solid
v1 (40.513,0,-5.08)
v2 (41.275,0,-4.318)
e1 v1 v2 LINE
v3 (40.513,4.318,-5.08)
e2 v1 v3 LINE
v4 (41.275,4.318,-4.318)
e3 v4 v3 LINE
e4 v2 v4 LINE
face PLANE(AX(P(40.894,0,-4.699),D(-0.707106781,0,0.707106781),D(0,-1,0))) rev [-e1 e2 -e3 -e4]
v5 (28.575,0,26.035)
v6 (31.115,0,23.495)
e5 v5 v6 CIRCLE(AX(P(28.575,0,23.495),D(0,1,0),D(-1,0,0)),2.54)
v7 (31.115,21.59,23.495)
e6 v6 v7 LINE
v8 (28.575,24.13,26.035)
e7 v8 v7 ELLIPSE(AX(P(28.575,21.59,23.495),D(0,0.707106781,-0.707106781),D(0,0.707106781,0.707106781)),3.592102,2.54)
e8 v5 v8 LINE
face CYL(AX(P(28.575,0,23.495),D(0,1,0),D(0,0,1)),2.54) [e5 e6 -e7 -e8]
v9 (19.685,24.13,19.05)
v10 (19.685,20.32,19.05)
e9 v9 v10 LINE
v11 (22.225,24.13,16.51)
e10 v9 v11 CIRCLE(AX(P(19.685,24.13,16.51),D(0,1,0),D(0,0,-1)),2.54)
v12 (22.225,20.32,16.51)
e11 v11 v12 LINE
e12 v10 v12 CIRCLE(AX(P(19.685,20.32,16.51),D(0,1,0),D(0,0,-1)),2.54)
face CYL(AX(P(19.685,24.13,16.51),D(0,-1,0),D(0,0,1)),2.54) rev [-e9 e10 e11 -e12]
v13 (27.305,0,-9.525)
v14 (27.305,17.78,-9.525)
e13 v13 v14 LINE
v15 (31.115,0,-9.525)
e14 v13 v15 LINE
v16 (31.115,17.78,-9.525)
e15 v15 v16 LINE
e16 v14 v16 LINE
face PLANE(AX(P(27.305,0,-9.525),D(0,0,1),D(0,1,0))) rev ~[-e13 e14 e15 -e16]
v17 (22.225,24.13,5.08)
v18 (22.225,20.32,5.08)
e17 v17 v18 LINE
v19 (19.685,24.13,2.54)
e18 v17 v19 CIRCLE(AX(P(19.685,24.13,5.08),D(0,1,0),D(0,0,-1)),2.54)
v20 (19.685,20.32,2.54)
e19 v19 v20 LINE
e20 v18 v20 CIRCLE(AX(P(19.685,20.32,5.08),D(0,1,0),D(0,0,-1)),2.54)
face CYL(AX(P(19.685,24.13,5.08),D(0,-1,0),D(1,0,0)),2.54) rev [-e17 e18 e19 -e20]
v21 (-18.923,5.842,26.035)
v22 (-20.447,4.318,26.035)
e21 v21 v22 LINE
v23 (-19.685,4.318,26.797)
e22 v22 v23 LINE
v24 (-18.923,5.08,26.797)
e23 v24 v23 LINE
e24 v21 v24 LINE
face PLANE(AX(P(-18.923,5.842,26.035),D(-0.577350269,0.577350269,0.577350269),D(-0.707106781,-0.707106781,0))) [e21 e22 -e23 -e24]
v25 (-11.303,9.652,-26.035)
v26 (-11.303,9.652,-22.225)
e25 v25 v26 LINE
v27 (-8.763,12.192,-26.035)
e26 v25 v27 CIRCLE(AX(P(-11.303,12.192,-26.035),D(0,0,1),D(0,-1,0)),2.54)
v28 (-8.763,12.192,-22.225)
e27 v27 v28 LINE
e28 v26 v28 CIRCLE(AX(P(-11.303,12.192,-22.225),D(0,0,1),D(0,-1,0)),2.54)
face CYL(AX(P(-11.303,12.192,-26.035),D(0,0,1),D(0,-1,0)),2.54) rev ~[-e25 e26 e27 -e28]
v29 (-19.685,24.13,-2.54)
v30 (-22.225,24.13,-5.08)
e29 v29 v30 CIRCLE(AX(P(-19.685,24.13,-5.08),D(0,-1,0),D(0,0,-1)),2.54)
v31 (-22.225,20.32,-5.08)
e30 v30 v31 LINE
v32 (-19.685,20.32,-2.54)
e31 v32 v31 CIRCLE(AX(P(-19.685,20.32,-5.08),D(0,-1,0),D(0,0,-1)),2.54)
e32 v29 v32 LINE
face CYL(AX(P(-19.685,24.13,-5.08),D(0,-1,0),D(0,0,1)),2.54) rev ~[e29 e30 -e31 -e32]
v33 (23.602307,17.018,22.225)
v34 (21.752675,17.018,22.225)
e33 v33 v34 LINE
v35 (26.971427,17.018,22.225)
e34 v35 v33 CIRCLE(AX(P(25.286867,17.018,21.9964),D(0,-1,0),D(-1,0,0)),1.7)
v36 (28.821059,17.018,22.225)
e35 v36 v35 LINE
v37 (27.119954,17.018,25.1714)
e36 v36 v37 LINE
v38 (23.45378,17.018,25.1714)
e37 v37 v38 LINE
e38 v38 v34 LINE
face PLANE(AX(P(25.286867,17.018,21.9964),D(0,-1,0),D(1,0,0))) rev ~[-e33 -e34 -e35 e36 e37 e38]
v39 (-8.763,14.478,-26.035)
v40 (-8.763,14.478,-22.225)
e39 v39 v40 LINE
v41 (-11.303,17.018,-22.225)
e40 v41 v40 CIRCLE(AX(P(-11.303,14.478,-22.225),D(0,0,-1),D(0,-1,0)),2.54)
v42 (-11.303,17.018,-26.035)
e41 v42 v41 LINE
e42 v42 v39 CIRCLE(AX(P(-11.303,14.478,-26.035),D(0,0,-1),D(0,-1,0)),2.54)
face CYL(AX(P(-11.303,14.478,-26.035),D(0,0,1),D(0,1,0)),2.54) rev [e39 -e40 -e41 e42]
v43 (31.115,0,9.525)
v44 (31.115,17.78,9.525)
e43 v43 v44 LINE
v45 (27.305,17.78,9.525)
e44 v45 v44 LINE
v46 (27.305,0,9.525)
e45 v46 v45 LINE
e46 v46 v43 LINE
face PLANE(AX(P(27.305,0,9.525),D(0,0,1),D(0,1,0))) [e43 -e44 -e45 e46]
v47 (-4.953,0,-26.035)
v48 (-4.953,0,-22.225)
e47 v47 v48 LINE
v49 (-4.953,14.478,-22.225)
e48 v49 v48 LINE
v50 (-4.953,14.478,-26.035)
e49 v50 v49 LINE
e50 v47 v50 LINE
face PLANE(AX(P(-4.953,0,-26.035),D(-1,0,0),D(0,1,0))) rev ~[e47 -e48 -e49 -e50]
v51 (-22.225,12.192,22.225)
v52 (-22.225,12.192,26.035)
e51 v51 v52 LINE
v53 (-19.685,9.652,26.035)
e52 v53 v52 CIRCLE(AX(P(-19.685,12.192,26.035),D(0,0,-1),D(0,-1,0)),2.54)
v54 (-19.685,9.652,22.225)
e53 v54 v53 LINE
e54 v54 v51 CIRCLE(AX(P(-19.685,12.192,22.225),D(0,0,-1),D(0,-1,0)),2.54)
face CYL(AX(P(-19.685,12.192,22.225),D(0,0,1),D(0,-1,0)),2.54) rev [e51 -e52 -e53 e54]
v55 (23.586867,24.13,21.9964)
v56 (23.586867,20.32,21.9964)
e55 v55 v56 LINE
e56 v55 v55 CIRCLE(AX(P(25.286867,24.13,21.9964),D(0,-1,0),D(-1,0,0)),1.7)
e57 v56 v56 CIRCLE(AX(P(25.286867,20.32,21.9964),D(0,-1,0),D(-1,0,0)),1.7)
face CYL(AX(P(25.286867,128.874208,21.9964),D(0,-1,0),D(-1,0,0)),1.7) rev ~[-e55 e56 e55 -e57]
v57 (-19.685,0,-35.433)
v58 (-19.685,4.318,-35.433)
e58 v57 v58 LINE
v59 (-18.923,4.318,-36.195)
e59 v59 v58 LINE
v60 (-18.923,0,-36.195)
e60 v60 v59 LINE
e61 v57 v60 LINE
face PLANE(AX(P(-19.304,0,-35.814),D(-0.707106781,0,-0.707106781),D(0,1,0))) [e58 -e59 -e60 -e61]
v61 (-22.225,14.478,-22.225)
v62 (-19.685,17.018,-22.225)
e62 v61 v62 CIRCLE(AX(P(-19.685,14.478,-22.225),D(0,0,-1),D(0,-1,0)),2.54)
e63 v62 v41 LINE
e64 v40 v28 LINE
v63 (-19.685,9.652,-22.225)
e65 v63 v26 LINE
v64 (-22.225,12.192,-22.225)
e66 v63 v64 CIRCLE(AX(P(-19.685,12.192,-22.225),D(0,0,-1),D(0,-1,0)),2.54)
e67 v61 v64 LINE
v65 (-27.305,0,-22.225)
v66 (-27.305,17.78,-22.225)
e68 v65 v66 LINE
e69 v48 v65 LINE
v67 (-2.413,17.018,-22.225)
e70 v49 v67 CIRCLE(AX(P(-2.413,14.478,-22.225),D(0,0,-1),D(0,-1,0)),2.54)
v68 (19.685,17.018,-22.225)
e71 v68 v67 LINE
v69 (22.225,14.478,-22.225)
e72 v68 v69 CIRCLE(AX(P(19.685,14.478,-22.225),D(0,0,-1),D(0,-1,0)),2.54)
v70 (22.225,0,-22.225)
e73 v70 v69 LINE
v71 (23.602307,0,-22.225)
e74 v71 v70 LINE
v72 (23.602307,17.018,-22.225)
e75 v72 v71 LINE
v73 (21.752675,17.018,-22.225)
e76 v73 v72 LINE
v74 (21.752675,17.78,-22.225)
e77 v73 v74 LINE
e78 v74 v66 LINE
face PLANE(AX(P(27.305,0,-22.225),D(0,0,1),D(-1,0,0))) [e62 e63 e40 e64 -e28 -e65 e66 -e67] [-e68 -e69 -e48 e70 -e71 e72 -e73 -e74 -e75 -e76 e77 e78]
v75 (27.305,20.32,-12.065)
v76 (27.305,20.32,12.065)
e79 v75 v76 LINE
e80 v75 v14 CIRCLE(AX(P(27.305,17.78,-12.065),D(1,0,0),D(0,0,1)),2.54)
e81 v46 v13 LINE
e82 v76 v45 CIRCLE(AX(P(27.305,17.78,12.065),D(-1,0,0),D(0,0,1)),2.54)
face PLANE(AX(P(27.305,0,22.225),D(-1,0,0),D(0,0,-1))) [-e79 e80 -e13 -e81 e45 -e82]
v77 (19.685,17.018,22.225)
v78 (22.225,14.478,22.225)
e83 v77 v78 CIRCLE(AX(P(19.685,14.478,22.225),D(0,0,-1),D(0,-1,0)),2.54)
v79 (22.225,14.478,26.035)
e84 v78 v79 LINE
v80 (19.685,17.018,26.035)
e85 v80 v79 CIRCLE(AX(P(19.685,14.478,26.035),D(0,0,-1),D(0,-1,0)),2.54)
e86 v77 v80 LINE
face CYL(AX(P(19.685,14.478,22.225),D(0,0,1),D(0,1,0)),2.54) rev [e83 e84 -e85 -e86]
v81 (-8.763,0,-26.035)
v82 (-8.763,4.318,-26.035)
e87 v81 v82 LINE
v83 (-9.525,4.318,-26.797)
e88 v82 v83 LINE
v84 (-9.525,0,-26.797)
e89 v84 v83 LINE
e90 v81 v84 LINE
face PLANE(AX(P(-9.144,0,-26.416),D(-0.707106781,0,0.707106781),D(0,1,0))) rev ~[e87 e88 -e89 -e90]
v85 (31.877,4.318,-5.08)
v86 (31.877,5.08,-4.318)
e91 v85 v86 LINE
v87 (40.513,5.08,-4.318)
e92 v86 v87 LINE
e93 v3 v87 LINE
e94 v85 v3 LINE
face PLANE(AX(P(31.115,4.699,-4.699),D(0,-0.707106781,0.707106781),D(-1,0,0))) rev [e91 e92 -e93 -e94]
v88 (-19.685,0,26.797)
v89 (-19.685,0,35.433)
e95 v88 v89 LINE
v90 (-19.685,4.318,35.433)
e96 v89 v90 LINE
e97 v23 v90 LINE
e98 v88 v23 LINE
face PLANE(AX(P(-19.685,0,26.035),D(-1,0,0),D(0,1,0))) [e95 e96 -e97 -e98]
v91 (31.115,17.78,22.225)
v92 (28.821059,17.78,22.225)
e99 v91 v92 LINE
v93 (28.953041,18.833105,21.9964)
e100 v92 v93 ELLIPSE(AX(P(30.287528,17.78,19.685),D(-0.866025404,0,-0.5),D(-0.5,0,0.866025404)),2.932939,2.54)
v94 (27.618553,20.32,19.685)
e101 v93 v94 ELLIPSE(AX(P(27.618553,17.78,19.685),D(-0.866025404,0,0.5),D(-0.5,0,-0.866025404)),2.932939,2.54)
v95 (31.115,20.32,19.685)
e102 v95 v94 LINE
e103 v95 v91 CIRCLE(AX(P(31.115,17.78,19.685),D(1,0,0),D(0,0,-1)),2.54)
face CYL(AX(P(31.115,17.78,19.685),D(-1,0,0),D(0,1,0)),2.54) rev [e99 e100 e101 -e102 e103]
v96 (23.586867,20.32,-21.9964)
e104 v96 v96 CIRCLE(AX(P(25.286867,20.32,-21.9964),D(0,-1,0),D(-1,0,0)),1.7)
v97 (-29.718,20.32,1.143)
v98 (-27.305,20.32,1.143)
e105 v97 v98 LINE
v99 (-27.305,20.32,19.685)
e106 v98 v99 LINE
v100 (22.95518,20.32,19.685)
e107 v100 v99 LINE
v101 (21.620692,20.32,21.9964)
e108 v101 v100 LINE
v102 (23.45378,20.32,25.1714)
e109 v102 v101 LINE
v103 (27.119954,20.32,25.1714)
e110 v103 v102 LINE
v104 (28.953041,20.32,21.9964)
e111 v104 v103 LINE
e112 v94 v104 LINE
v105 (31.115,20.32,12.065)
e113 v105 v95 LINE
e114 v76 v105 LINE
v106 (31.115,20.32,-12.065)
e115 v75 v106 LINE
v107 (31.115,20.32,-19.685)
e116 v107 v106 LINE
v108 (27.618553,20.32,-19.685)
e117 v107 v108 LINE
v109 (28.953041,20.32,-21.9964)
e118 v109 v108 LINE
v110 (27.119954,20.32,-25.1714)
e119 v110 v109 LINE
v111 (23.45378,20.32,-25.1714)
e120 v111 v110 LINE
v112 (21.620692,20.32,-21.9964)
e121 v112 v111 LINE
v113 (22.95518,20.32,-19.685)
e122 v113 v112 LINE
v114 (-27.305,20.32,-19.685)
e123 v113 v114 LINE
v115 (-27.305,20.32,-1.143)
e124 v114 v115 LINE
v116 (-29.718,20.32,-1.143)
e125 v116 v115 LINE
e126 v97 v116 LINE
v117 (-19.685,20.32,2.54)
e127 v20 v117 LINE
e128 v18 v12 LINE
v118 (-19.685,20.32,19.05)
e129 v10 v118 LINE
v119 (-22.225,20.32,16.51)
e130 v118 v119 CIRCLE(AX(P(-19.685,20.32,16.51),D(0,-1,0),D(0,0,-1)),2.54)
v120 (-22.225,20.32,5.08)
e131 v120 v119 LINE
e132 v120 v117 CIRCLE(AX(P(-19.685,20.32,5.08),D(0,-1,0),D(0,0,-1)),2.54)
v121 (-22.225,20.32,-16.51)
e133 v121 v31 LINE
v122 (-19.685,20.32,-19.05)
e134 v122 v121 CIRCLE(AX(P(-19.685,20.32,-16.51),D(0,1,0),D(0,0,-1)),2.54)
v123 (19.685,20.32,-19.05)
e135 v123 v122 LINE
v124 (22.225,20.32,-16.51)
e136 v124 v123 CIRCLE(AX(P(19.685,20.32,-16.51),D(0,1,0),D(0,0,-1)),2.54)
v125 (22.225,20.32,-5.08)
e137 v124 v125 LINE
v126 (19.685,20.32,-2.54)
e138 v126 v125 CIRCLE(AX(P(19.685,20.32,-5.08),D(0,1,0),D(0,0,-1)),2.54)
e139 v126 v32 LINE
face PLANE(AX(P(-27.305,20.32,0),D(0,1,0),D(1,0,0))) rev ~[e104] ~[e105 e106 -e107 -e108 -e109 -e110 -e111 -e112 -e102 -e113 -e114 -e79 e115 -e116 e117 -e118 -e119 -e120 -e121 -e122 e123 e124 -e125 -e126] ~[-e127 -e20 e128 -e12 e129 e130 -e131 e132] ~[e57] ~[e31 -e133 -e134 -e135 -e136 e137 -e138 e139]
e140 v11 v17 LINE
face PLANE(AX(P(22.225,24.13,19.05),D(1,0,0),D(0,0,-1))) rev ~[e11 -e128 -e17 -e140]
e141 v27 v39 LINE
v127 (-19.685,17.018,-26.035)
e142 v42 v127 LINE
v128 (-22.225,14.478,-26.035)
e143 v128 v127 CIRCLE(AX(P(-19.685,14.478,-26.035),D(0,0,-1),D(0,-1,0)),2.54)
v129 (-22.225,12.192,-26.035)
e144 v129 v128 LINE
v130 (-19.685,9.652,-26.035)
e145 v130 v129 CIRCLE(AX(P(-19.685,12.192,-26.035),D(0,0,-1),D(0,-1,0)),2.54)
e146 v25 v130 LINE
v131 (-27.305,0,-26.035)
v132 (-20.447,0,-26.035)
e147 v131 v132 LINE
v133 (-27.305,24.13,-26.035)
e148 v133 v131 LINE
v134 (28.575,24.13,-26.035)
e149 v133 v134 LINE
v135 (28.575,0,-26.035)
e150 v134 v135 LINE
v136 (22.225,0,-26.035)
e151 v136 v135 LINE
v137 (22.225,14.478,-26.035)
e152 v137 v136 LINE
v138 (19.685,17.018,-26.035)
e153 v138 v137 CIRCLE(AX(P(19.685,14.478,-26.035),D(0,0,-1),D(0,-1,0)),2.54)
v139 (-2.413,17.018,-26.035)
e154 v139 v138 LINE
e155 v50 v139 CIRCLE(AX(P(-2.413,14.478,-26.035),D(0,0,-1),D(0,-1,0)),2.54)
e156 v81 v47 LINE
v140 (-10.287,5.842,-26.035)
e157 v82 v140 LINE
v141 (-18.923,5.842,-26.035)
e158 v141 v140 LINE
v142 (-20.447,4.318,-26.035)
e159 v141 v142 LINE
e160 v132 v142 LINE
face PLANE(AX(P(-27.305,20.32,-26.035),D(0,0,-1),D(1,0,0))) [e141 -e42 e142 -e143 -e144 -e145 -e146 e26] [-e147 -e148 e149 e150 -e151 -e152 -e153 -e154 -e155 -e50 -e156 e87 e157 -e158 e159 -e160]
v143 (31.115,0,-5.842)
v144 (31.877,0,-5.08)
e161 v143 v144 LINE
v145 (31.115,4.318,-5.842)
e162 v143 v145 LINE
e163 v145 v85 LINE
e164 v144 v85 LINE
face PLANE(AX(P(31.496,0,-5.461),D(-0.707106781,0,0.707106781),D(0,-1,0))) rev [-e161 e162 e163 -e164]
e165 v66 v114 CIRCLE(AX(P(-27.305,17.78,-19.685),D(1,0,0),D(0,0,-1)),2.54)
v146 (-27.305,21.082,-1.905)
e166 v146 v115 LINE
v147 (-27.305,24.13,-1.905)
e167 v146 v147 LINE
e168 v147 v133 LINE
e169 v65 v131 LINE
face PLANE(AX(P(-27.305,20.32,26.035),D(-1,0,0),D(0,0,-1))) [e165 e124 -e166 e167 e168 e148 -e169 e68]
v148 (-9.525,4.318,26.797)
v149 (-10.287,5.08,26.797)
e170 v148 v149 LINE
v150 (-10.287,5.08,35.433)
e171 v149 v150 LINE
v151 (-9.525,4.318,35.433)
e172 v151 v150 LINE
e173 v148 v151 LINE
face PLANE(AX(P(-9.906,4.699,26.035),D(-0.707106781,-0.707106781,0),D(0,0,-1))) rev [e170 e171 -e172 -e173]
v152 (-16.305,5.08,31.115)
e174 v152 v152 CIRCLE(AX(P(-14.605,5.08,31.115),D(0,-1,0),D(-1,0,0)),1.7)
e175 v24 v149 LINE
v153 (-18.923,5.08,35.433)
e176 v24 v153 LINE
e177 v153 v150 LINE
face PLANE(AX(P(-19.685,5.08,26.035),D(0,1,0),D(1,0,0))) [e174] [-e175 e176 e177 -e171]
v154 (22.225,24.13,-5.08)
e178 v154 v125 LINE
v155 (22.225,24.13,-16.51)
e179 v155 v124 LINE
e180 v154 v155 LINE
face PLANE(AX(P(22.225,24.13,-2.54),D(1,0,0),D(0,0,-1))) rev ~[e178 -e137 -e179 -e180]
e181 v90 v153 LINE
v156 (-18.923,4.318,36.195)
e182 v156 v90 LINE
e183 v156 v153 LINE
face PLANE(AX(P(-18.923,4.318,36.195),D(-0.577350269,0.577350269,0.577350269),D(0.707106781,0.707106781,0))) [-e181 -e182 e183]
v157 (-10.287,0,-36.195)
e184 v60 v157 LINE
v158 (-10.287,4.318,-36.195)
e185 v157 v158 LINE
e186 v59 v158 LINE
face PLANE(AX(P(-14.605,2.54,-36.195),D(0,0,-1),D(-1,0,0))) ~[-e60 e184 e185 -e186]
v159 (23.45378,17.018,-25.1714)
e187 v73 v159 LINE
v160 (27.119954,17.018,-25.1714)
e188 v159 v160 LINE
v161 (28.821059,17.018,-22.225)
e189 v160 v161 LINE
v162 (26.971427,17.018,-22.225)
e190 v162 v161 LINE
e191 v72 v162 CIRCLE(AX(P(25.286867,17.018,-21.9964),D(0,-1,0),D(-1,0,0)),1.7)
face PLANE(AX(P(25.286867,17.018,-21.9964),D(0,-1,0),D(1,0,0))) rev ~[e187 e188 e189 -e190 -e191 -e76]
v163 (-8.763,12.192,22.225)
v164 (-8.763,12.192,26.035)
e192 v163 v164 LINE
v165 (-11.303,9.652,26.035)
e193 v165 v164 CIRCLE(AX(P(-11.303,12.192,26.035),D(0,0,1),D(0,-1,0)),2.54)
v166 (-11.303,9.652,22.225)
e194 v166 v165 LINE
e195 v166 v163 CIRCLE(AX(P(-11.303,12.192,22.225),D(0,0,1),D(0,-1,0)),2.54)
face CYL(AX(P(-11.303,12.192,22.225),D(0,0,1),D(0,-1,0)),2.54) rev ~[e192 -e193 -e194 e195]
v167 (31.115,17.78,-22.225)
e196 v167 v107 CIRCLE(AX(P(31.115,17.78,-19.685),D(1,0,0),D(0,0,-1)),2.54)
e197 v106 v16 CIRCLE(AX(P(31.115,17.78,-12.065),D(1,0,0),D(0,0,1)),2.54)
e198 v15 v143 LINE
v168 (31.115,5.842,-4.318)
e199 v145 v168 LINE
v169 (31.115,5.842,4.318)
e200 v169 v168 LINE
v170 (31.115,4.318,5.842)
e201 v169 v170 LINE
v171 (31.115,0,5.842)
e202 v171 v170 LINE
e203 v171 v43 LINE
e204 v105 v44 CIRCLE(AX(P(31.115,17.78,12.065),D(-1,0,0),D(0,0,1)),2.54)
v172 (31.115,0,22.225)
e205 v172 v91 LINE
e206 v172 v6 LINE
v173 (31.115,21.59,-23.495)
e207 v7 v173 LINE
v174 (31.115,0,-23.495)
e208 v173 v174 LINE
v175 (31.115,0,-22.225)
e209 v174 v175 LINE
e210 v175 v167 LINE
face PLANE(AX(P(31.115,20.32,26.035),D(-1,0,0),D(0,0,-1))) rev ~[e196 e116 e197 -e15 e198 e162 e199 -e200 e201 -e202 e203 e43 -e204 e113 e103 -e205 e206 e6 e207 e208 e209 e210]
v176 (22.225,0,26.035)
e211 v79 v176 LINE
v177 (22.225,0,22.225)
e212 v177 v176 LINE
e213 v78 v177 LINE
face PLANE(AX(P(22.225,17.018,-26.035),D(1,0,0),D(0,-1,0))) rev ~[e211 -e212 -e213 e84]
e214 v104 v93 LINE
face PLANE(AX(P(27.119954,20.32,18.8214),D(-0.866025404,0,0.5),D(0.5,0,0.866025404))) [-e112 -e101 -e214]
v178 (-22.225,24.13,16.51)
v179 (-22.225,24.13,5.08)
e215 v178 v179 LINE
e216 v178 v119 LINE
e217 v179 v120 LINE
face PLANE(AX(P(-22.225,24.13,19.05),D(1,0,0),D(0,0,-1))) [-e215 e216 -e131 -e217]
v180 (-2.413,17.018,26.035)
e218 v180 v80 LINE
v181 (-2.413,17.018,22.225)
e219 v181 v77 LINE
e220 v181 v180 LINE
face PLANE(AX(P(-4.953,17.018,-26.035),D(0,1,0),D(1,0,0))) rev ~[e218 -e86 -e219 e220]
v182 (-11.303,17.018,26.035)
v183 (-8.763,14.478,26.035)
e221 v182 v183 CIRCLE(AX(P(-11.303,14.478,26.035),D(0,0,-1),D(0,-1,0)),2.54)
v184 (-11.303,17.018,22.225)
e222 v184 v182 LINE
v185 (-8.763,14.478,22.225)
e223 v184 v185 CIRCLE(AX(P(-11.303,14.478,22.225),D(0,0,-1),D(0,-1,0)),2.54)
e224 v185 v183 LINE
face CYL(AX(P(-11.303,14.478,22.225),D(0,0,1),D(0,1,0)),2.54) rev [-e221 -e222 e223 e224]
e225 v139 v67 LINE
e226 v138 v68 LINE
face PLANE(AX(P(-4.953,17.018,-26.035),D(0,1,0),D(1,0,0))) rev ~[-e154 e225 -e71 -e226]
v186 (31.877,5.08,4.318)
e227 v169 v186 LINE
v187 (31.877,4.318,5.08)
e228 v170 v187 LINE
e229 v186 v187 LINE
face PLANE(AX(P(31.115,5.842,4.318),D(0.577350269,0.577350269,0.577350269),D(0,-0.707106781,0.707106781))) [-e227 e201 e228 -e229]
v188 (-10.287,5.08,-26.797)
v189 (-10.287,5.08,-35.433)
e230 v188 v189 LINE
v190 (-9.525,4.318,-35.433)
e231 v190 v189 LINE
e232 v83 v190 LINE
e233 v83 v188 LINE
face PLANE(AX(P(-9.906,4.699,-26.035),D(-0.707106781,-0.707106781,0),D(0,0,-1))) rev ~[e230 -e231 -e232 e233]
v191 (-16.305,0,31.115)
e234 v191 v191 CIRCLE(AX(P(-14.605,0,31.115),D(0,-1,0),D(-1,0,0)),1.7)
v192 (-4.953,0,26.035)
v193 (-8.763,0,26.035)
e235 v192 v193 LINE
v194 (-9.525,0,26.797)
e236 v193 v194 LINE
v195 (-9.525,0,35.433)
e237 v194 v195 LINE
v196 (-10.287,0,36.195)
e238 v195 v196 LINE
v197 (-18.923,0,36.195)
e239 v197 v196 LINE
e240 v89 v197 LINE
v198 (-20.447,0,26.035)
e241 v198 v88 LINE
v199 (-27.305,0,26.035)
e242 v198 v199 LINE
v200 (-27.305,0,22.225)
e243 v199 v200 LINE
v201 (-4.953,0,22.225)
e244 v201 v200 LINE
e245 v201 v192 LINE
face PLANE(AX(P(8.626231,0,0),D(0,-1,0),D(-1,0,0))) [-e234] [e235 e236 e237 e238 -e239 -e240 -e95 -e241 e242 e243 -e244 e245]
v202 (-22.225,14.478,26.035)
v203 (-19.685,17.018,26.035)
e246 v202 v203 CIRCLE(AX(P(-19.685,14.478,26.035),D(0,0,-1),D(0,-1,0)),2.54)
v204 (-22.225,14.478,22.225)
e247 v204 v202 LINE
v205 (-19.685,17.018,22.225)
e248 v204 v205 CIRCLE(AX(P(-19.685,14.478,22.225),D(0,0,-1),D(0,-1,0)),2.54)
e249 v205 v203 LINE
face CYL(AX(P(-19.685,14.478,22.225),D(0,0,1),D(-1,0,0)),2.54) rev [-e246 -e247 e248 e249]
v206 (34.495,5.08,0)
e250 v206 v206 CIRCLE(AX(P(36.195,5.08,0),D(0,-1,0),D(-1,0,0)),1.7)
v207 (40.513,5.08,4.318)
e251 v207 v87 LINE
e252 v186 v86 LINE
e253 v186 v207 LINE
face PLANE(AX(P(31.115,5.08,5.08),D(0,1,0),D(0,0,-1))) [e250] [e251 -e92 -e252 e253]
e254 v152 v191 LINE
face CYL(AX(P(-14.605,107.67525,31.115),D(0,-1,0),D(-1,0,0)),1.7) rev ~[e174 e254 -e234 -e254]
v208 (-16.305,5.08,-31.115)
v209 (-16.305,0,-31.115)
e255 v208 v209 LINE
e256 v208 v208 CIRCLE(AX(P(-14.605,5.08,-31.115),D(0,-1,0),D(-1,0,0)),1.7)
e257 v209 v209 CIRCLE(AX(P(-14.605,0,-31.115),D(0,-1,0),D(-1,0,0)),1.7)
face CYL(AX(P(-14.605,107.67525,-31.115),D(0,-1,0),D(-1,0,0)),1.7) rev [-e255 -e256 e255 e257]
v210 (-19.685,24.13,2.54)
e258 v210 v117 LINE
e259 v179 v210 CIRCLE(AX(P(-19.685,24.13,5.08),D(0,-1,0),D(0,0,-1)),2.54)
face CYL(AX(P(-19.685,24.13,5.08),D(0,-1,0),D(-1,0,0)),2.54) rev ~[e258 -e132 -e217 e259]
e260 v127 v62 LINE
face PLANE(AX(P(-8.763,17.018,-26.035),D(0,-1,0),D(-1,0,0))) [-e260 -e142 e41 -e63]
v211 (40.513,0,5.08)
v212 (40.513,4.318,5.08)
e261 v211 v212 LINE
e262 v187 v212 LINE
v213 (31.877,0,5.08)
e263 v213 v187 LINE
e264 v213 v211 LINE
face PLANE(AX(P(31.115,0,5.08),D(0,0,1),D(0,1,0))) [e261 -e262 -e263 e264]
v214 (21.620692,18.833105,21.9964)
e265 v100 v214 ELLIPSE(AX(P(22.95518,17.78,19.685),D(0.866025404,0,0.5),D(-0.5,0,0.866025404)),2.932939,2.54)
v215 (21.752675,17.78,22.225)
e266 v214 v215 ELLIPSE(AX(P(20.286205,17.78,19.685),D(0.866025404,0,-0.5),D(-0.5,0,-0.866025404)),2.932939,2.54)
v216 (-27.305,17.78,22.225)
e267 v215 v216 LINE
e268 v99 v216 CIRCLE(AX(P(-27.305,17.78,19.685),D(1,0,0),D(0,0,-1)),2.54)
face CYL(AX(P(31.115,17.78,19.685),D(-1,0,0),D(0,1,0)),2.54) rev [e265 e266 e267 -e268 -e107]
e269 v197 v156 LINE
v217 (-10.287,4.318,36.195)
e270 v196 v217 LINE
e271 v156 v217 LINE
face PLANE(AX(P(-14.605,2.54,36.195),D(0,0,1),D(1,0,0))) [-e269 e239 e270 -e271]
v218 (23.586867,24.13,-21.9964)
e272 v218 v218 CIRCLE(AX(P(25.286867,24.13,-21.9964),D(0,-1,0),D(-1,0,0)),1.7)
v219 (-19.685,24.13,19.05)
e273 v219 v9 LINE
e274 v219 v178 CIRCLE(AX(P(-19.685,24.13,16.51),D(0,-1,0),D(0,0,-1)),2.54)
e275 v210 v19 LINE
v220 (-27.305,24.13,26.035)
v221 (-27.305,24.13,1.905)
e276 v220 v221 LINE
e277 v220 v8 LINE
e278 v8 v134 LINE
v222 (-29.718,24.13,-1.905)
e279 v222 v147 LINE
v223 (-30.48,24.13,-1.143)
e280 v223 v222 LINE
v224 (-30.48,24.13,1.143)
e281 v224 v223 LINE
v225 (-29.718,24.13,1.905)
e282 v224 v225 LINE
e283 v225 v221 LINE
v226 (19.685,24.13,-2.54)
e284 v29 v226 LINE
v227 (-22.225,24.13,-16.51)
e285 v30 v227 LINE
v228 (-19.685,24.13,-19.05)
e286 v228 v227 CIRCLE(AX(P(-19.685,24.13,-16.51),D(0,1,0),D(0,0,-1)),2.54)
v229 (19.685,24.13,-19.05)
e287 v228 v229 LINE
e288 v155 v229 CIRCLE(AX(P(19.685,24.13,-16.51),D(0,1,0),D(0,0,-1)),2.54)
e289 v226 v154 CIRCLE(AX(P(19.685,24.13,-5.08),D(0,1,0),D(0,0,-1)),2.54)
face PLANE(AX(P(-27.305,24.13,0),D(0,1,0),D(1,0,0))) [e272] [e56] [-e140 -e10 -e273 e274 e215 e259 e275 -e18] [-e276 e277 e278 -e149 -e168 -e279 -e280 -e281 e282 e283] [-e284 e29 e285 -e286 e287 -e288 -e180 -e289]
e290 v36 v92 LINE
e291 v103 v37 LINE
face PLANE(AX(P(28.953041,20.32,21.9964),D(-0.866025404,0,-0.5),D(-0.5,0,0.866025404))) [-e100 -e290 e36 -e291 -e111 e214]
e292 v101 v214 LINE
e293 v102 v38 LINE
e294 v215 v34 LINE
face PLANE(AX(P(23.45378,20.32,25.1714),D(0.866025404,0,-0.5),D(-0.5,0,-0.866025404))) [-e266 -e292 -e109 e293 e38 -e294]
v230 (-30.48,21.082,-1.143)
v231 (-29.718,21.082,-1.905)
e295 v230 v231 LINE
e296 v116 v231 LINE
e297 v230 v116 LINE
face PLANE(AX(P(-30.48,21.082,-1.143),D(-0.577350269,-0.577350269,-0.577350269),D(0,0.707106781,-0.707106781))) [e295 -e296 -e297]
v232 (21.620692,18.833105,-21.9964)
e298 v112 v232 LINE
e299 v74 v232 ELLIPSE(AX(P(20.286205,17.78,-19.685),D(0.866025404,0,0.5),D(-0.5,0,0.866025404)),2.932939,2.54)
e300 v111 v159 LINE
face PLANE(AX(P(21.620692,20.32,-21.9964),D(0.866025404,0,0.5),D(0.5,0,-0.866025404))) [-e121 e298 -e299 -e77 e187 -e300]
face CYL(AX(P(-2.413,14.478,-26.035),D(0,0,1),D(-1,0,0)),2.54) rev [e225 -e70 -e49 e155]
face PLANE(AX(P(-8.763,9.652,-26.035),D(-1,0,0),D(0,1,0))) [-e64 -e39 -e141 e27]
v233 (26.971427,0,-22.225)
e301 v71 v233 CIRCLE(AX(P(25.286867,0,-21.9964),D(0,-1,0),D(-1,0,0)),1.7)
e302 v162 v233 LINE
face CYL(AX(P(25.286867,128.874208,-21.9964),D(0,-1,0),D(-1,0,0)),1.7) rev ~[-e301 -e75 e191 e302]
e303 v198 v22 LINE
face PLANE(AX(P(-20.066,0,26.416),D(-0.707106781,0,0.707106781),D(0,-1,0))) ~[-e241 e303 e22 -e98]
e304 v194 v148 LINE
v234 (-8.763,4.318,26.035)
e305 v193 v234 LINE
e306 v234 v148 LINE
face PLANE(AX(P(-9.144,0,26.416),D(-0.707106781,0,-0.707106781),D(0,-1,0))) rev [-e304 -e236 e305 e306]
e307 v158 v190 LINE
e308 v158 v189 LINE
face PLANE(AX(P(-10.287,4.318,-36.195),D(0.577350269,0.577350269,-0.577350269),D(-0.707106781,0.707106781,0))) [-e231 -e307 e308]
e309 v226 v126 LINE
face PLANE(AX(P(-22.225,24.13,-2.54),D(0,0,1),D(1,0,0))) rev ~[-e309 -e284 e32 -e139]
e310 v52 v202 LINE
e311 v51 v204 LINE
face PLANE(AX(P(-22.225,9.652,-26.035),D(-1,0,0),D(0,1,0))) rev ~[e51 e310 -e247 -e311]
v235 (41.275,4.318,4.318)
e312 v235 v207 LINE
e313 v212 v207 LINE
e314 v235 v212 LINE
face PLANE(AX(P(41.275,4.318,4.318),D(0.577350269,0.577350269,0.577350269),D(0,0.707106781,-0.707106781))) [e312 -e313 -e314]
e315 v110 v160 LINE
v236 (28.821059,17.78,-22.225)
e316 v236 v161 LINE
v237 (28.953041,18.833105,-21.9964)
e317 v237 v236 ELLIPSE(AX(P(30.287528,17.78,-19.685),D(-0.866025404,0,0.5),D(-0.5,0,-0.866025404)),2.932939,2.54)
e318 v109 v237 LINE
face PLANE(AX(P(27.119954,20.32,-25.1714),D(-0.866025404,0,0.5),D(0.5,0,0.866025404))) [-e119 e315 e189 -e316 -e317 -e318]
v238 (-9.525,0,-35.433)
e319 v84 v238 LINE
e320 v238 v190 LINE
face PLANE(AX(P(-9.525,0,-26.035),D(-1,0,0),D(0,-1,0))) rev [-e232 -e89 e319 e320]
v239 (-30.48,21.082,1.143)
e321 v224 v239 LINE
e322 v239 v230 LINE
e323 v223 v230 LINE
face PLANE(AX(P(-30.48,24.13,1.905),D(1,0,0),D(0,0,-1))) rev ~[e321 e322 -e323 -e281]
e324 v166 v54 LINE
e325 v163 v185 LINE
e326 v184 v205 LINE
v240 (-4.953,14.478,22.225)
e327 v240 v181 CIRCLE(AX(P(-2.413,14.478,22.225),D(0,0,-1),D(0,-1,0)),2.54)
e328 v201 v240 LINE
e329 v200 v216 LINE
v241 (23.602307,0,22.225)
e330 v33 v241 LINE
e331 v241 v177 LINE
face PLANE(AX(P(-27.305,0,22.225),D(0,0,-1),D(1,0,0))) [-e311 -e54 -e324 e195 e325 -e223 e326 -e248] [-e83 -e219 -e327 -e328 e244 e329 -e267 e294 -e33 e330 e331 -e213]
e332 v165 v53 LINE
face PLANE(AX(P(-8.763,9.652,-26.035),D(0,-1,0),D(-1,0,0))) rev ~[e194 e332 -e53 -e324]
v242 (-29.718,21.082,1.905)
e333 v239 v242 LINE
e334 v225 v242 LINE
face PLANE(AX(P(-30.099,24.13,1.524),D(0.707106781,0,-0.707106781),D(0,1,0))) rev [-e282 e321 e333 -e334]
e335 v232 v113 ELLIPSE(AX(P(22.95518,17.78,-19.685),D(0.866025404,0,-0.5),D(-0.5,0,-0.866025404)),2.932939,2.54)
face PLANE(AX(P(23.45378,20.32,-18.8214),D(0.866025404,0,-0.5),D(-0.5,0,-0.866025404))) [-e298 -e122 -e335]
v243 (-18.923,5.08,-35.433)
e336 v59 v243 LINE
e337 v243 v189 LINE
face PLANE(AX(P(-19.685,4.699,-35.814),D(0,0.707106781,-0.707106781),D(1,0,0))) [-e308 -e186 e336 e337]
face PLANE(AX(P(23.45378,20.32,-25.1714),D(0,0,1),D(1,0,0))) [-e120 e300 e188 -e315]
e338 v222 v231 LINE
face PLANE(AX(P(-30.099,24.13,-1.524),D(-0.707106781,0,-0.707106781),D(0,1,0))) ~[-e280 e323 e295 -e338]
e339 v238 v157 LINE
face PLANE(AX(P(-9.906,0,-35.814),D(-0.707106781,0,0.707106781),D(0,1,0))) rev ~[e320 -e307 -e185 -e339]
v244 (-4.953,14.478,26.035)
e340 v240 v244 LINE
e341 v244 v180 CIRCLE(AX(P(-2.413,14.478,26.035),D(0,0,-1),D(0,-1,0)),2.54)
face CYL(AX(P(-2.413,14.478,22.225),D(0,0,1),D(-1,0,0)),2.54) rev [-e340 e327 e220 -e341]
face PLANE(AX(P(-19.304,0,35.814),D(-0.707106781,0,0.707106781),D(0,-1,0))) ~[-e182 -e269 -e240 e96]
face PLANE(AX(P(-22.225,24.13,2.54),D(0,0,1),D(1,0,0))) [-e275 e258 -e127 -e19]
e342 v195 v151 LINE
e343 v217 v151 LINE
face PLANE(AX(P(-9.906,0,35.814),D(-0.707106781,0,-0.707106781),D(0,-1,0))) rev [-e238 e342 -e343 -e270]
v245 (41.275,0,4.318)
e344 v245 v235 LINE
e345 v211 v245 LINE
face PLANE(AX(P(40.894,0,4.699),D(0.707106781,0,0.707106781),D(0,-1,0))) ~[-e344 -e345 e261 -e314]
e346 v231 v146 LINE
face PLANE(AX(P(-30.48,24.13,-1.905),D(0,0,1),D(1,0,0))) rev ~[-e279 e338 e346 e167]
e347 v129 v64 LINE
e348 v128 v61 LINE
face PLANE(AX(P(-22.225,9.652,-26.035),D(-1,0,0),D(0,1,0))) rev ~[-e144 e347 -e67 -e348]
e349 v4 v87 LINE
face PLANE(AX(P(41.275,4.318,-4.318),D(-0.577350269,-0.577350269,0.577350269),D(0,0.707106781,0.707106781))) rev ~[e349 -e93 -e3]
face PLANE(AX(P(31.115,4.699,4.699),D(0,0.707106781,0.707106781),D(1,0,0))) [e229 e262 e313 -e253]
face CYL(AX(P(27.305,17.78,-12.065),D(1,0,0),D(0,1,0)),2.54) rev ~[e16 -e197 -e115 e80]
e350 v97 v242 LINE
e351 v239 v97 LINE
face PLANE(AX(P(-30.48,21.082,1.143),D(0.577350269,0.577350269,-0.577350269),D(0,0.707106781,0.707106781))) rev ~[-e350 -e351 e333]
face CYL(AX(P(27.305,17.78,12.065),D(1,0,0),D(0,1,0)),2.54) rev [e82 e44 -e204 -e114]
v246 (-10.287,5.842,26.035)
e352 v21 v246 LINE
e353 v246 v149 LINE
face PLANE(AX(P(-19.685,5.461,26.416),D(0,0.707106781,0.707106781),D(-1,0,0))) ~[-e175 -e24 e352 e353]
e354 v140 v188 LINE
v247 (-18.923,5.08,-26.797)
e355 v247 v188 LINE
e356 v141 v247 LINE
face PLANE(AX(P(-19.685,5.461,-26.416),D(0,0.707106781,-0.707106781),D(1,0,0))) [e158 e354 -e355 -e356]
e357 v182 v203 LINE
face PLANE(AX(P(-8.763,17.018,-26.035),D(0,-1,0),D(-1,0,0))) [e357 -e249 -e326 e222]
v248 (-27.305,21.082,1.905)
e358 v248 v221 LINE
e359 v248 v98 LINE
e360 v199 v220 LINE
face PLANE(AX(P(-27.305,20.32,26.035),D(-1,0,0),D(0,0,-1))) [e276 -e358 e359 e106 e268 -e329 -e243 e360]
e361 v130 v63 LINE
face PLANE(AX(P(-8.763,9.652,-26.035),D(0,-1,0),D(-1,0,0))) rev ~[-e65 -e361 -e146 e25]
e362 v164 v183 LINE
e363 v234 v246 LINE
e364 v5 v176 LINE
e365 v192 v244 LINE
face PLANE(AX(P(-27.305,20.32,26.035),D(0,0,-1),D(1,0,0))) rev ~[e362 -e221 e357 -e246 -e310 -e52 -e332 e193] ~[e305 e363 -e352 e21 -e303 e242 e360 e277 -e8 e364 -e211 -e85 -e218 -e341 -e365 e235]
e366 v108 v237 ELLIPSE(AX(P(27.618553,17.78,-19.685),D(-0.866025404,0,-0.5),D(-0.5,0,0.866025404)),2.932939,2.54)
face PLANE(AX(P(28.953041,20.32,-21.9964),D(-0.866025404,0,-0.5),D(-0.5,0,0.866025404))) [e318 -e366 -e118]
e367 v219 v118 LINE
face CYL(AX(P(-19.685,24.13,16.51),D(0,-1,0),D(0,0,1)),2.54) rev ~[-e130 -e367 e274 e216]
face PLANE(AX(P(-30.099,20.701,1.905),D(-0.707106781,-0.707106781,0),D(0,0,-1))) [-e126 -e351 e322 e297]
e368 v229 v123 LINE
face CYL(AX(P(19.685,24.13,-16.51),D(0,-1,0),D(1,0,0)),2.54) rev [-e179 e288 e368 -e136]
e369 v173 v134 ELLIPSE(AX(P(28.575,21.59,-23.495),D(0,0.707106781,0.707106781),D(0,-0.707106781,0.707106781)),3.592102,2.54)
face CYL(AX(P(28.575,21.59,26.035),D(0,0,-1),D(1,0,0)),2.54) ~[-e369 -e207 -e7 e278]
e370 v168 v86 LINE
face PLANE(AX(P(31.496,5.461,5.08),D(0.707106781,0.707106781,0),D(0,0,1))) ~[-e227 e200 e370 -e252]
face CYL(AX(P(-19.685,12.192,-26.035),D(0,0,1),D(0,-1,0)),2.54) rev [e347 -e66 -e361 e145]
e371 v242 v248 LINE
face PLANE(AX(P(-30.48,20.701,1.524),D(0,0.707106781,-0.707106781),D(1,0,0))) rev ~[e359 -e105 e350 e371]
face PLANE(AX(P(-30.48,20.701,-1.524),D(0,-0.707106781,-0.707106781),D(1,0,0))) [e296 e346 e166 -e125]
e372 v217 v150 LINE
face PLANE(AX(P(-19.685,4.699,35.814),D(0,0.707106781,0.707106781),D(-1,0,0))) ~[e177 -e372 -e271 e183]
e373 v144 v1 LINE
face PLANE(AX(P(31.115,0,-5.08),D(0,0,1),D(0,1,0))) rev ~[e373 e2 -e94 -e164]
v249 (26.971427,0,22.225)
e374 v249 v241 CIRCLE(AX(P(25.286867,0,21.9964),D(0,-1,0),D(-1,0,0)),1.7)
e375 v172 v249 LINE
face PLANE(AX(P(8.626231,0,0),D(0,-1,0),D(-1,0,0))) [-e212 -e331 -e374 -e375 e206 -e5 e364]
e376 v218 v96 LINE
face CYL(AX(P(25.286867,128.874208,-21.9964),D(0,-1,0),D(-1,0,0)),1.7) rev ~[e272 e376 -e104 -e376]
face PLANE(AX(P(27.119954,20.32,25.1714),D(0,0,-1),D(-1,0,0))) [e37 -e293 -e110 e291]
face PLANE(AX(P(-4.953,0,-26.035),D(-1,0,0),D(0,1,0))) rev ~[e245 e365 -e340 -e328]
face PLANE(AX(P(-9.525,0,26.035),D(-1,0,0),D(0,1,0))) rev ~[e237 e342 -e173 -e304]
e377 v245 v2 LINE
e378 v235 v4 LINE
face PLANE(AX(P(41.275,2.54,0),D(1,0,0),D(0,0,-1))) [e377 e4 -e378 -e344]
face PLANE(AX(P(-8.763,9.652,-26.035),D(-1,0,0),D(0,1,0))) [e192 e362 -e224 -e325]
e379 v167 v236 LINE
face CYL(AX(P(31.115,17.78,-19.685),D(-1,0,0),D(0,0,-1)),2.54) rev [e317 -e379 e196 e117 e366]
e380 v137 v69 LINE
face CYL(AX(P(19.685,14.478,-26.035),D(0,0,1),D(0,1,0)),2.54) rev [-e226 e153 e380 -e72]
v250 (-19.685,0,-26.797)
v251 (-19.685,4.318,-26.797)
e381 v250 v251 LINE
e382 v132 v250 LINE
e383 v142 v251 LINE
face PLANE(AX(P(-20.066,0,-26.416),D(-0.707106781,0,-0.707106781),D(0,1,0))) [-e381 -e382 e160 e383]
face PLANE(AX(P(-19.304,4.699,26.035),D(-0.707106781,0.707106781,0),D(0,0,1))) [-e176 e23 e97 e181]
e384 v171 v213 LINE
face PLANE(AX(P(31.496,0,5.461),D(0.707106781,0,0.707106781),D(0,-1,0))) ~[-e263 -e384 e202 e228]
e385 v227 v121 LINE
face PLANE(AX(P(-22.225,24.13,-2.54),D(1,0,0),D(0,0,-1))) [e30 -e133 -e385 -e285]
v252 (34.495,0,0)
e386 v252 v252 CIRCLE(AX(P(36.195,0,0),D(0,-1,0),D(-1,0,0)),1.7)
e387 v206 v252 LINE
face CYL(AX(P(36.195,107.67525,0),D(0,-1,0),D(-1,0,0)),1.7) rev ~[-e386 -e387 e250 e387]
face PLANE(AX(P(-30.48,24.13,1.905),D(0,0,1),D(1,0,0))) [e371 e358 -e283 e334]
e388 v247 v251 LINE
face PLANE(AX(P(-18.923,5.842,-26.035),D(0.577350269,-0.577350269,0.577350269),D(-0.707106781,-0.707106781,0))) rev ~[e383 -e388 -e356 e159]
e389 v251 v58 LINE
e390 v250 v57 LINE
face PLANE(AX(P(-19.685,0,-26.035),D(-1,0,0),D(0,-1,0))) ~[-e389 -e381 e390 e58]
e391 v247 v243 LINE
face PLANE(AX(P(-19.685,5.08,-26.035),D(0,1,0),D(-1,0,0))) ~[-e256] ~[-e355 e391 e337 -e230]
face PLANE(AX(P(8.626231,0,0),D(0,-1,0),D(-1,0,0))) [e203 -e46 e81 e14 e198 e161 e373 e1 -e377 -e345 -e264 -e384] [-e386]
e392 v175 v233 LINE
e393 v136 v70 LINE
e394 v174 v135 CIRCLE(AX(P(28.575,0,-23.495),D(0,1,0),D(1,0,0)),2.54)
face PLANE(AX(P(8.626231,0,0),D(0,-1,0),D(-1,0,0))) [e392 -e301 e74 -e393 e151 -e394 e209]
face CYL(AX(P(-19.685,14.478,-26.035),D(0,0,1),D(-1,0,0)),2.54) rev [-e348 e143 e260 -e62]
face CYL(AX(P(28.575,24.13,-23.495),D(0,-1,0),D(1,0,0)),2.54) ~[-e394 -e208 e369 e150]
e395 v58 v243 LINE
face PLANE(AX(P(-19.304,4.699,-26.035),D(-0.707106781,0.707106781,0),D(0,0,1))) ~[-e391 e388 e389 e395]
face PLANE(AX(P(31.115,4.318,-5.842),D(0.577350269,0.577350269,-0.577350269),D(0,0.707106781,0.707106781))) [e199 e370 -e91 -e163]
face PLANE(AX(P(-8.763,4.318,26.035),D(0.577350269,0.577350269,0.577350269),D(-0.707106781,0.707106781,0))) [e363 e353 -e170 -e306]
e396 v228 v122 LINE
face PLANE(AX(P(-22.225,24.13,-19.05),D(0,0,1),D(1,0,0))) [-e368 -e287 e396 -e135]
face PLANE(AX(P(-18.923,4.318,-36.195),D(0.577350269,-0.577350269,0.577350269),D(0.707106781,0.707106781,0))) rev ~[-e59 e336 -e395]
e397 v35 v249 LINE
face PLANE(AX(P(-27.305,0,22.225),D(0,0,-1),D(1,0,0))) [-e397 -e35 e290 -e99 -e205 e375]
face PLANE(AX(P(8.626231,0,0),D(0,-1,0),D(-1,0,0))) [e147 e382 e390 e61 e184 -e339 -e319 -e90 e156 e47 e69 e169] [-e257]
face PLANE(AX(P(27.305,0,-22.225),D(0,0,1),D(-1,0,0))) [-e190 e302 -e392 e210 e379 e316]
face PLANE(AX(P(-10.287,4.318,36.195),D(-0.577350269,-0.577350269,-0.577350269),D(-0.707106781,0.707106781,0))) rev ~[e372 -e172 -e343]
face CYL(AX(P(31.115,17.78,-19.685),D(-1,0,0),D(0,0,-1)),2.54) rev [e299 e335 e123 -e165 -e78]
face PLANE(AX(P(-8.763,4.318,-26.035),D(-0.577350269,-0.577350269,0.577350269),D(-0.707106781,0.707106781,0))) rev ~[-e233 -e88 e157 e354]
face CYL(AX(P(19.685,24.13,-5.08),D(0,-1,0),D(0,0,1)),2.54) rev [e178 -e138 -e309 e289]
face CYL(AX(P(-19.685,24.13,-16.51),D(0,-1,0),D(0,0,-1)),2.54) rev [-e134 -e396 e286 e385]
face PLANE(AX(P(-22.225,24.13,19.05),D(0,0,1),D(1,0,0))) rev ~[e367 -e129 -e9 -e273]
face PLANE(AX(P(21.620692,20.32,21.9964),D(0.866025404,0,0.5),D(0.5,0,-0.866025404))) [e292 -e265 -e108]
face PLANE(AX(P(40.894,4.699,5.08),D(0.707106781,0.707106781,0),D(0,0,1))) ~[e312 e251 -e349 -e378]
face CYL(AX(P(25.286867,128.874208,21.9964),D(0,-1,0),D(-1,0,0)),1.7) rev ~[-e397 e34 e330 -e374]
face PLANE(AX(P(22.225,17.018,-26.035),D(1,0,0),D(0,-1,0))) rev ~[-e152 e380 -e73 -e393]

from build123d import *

# Parameters (mm, degrees)
BOSS_EXTRUDE1_DEPTH      = 20.32
SKETCH2_W                = 58.42
SKETCH2_H                = 52.07
BOSS_EXTRUDE2_DEPTH      = 3.81
SKETCH3_W                = 12.7
SKETCH3_H                = 20.32
CUT_EXTRUDE1_DEPTH       = 3.81
FILLET2_R                = 2.54
SKETCH4_W                = 10.16
SKETCH4_H                = 5.08
BOSS_EXTRUDE3_DEPTH      = 10.16
CHAMFER1_SIZE            = 0.762
SKETCH5_W                = 10.16
SKETCH5_H                = 5.08
BOSS_EXTRUDE4_DEPTH      = 10.16
CHAMFER2_SIZE            = 0.762
CHAMFER2_OF_MIRROR1_SIZE = 0.762
M3_CLEARANCE_HOLE1_D     = 3.4
M3_CLEARANCE_HOLE2_D     = 3.4
CUT_EXTRUDE2_REACH       = 61.966
SKETCH13_W               = 44.45
SKETCH13_H               = 16.51
SKETCH15_W               = 13.462
SKETCH15_H               = 7.366
CUT_EXTRUDE4_DEPTH       = 79.475827011
FILLET3_R                = 2.54
SKETCH16_W               = 6.35
SKETCH16_H               = 3.81
BOSS_EXTRUDE5_DEPTH      = 3.81
CHAMFER3_SIZE            = 0.762
M3_CLEARANCE_HOLE4_D     = 3.4
CUT_EXTRUDE5_DEPTH       = 3.302


with BuildPart() as part:
    # Sketch1 → Boss-Extrude1 (new body)
    with BuildSketch(Plane(origin=(0, 0, 0), x_dir=(1, 0, 0), z_dir=(0, 1, 0))):
        Polygon((-27.305, 22.225), (-27.305, 26.035), (31.115, 26.035), (31.115, -26.035), (-27.305, -26.035), (-27.305, -22.225), (27.305, -22.225), (27.305, 22.225), align=None)
    extrude(amount=BOSS_EXTRUDE1_DEPTH)

    # Sketch2 → Boss-Extrude2 (add)
    with BuildSketch(Plane(origin=(0, 20.32, 0), x_dir=(1, 0, 0), z_dir=(0, 1, 0))):
        with Locations((1.905, 0)):
            Rectangle(SKETCH2_W, SKETCH2_H)
    extrude(amount=BOSS_EXTRUDE2_DEPTH)

    # Sketch3 → Cut-Extrude1 (cut)
    with BuildSketch(Plane.ZY.offset(-27.305)):
        with Locations((-15.875, 10.16)):
            Rectangle(SKETCH3_W, SKETCH3_H)
        with Locations((15.875, 10.16)):
            Rectangle(SKETCH3_W, SKETCH3_H)
    extrude(amount=-CUT_EXTRUDE1_DEPTH, mode=Mode.SUBTRACT)

    # Fillet2
    fillet2_edges = [part.edges().sort_by_distance(p)[0] for p in [
        (31.115, 12.065, -26.035),
        (31.115, 12.065, 26.035),
        (31.115, 24.13, 0),
    ]]
    fillet(fillet2_edges, radius=FILLET2_R)

    # Sketch4 → Boss-Extrude3 (add)
    with BuildSketch(Plane(origin=(31.115, 0, 0), x_dir=(0, 0, -1), z_dir=(1, 0, 0))):
        with Locations((0, 2.54)):
            Rectangle(SKETCH4_W, SKETCH4_H)
    extrude(amount=BOSS_EXTRUDE3_DEPTH)

    # Chamfer1
    chamfer1_edges = [part.edges().sort_by_distance(p)[0] for p in [
        (31.115, 2.54, 5.08),
        (36.195, 5.08, 5.08),
        (31.115, 2.54, -5.08),
        (31.115, 5.08, 0),
        (36.195, 5.08, -5.08),
        (41.275, 2.54, 5.08),
        (41.275, 2.54, -5.08),
        (41.275, 5.08, 0),
    ]]
    chamfer(chamfer1_edges, length=CHAMFER1_SIZE)

    # Sketch5 → Boss-Extrude4 (add)
    with BuildSketch(Plane.XY.offset(26.035)):
        with Locations((-14.605, 2.54)):
            Rectangle(SKETCH5_W, SKETCH5_H)
    boss_extrude4 = extrude(amount=BOSS_EXTRUDE4_DEPTH)

    # Chamfer2
    chamfer2_edges = [part.edges().sort_by_distance(p)[0] for p in [
        (-19.685, 2.54, 26.035),
        (-19.685, 5.08, 31.115),
        (-9.525, 2.54, 26.035),
        (-14.605, 5.08, 26.035),
        (-9.525, 5.08, 31.115),
        (-19.685, 2.54, 36.195),
        (-9.525, 2.54, 36.195),
        (-14.605, 5.08, 36.195),
    ]]
    chamfer(chamfer2_edges, length=CHAMFER2_SIZE)

    # Mirror1: Boss-Extrude4 across plane
    add(boss_extrude4.mirror(Plane.XY))

    # Chamfer2 of Mirror1
    chamfer2_of_mirror1_edges = [part.edges().sort_by_distance(p)[0] for p in [
        (-19.685, 2.54, -26.035),
        (-19.685, 5.08, -31.115),
        (-9.525, 2.54, -26.035),
        (-14.605, 5.08, -26.035),
        (-9.525, 5.08, -31.115),
        (-19.685, 2.54, -36.195),
        (-9.525, 2.54, -36.195),
        (-14.605, 5.08, -36.195),
    ]]
    chamfer(chamfer2_of_mirror1_edges, length=CHAMFER2_OF_MIRROR1_SIZE)

    # M3 Clearance Hole1 (through all)
    with Locations(Plane(origin=(0, 5.08, 0), x_dir=(1, 0, 0), z_dir=(0, 1, 0))):
        with Locations((-14.605, -31.115)):
            m3_clearance_hole1 = Hole(M3_CLEARANCE_HOLE1_D / 2)

    # Mirror2: M3 Clearance Hole1 across plane
    add(m3_clearance_hole1.mirror(Plane.XY), mode=Mode.SUBTRACT)

    # M3 Clearance Hole2 (through all)
    with Locations(Plane(origin=(0, 5.08, 0), x_dir=(1, 0, 0), z_dir=(0, 1, 0))):
        with Locations((36.195, 0)):
            Hole(M3_CLEARANCE_HOLE2_D / 2)

    # Sketch13 → Cut-Extrude2 (cut, up to next)
    with BuildSketch(Plane(origin=(0, 24.13, 0), x_dir=(1, 0, 0), z_dir=(0, 1, 0)), mode=Mode.PRIVATE) as cut_extrude2_sk1:
        with Locations((0, -10.795)):
            Rectangle(SKETCH13_W, SKETCH13_H)
    cut_extrude2_tool1 = extrude(cut_extrude2_sk1.sketch, amount=-CUT_EXTRUDE2_REACH, mode=Mode.PRIVATE) & part.part
    # Sketch13 → Cut-Extrude2 (cut, up to next)
    with BuildSketch(Plane(origin=(0, 24.13, 0), x_dir=(1, 0, 0), z_dir=(0, 1, 0)), mode=Mode.PRIVATE) as cut_extrude2_sk2:
        with Locations((0, 10.795)):
            Rectangle(SKETCH13_W, SKETCH13_H)
    cut_extrude2_tool2 = extrude(cut_extrude2_sk2.sketch, amount=-CUT_EXTRUDE2_REACH, mode=Mode.PRIVATE) & part.part
    add(cut_extrude2_tool1.solids().sort_by_distance((0, 24.13, 10.795))[0], mode=Mode.SUBTRACT)
    add(cut_extrude2_tool2.solids().sort_by_distance((0, 24.13, -10.795))[0], mode=Mode.SUBTRACT)

    # Sketch15 → Cut-Extrude4 (cut, through all)
    with BuildSketch(Plane(origin=(0, 0, -26.035), x_dir=(-1, 0, 0), z_dir=(0, 0, -1))):
        Polygon((-22.225, 0), (4.953, 0), (4.953, 9.652), (4.953, 17.018), (2.441043817, 17.018), (-22.225, 17.018), align=None)
        with Locations((15.494, 13.335)):
            Rectangle(SKETCH15_W, SKETCH15_H)
    extrude(amount=-CUT_EXTRUDE4_DEPTH, mode=Mode.SUBTRACT)

    # Fillet3
    fillet3_edges = [part.edges().sort_by_distance(p)[0] for p in [
        (-22.225, 22.225, 19.05),
        (-22.225, 22.225, 2.54),
        (1.905, 20.32, -22.225),
        (22.225, 22.225, 2.54),
        (22.225, 22.225, 19.05),
        (22.225, 22.225, -19.05),
        (22.225, 22.225, -2.54),
        (-22.225, 22.225, -2.54),
        (-22.225, 22.225, -19.05),
        (22.225, 17.018, 24.13),
        (22.225, 17.018, -24.13),
        (-4.953, 17.018, 24.13),
        (-4.953, 17.018, -24.13),
        (-22.225, 17.018, 24.13),
        (-22.225, 17.018, -24.13),
        (-22.225, 9.652, 24.13),
        (-22.225, 9.652, -24.13),
        (-8.763, 9.652, 24.13),
        (-8.763, 9.652, -24.13),
        (-8.763, 17.018, 24.13),
        (-8.763, 17.018, -24.13),
        (29.21, 20.32, -9.525),
        (29.21, 20.32, 9.525),
        (1.905, 20.32, 22.225),
    ]]
    fillet(fillet3_edges, radius=FILLET3_R)

    # Sketch16 → Boss-Extrude5 (add)
    with BuildSketch(Plane(origin=(0, 24.13, 0), x_dir=(1, 0, 0), z_dir=(0, 1, 0))):
        with Locations((-27.305, 0)):
            Rectangle(SKETCH16_W, SKETCH16_H)
    extrude(amount=-BOSS_EXTRUDE5_DEPTH)

    # Chamfer3
    chamfer3_edges = [part.edges().sort_by_distance(p)[0] for p in [
        (-28.8925, 20.32, -1.905),
        (-28.8925, 20.32, 1.905),
        (-30.48, 20.32, 0),
        (-30.48, 22.225, -1.905),
        (-30.48, 22.225, 1.905),
    ]]
    chamfer(chamfer3_edges, length=CHAMFER3_SIZE)

    # M3 Clearance Hole4 (through all)
    with Locations(Plane(origin=(0, 24.13, 0), x_dir=(1, 0, 0), z_dir=(0, 1, 0))):
        with Locations((25.286866606, -21.9964), (25.286866606, 21.9964)):
            Hole(M3_CLEARANCE_HOLE4_D / 2)

    # Sketch22 → Cut-Extrude5 (cut)
    with BuildSketch(Plane.XZ.offset(-20.32)):
        Polygon((28.953040816, 21.9964), (27.119953711, 25.1714), (23.453779502, 25.1714), (21.620692397, 21.9964), (23.453779502, 18.8214), (27.119953711, 18.8214), align=None)
        Polygon((28.953040816, -21.9964), (27.119953711, -18.8214), (23.453779502, -18.8214), (21.620692397, -21.9964), (23.453779502, -25.1714), (27.119953711, -25.1714), align=None)
    extrude(amount=CUT_EXTRUDE5_DEPTH, mode=Mode.SUBTRACT)


solid = part.part
